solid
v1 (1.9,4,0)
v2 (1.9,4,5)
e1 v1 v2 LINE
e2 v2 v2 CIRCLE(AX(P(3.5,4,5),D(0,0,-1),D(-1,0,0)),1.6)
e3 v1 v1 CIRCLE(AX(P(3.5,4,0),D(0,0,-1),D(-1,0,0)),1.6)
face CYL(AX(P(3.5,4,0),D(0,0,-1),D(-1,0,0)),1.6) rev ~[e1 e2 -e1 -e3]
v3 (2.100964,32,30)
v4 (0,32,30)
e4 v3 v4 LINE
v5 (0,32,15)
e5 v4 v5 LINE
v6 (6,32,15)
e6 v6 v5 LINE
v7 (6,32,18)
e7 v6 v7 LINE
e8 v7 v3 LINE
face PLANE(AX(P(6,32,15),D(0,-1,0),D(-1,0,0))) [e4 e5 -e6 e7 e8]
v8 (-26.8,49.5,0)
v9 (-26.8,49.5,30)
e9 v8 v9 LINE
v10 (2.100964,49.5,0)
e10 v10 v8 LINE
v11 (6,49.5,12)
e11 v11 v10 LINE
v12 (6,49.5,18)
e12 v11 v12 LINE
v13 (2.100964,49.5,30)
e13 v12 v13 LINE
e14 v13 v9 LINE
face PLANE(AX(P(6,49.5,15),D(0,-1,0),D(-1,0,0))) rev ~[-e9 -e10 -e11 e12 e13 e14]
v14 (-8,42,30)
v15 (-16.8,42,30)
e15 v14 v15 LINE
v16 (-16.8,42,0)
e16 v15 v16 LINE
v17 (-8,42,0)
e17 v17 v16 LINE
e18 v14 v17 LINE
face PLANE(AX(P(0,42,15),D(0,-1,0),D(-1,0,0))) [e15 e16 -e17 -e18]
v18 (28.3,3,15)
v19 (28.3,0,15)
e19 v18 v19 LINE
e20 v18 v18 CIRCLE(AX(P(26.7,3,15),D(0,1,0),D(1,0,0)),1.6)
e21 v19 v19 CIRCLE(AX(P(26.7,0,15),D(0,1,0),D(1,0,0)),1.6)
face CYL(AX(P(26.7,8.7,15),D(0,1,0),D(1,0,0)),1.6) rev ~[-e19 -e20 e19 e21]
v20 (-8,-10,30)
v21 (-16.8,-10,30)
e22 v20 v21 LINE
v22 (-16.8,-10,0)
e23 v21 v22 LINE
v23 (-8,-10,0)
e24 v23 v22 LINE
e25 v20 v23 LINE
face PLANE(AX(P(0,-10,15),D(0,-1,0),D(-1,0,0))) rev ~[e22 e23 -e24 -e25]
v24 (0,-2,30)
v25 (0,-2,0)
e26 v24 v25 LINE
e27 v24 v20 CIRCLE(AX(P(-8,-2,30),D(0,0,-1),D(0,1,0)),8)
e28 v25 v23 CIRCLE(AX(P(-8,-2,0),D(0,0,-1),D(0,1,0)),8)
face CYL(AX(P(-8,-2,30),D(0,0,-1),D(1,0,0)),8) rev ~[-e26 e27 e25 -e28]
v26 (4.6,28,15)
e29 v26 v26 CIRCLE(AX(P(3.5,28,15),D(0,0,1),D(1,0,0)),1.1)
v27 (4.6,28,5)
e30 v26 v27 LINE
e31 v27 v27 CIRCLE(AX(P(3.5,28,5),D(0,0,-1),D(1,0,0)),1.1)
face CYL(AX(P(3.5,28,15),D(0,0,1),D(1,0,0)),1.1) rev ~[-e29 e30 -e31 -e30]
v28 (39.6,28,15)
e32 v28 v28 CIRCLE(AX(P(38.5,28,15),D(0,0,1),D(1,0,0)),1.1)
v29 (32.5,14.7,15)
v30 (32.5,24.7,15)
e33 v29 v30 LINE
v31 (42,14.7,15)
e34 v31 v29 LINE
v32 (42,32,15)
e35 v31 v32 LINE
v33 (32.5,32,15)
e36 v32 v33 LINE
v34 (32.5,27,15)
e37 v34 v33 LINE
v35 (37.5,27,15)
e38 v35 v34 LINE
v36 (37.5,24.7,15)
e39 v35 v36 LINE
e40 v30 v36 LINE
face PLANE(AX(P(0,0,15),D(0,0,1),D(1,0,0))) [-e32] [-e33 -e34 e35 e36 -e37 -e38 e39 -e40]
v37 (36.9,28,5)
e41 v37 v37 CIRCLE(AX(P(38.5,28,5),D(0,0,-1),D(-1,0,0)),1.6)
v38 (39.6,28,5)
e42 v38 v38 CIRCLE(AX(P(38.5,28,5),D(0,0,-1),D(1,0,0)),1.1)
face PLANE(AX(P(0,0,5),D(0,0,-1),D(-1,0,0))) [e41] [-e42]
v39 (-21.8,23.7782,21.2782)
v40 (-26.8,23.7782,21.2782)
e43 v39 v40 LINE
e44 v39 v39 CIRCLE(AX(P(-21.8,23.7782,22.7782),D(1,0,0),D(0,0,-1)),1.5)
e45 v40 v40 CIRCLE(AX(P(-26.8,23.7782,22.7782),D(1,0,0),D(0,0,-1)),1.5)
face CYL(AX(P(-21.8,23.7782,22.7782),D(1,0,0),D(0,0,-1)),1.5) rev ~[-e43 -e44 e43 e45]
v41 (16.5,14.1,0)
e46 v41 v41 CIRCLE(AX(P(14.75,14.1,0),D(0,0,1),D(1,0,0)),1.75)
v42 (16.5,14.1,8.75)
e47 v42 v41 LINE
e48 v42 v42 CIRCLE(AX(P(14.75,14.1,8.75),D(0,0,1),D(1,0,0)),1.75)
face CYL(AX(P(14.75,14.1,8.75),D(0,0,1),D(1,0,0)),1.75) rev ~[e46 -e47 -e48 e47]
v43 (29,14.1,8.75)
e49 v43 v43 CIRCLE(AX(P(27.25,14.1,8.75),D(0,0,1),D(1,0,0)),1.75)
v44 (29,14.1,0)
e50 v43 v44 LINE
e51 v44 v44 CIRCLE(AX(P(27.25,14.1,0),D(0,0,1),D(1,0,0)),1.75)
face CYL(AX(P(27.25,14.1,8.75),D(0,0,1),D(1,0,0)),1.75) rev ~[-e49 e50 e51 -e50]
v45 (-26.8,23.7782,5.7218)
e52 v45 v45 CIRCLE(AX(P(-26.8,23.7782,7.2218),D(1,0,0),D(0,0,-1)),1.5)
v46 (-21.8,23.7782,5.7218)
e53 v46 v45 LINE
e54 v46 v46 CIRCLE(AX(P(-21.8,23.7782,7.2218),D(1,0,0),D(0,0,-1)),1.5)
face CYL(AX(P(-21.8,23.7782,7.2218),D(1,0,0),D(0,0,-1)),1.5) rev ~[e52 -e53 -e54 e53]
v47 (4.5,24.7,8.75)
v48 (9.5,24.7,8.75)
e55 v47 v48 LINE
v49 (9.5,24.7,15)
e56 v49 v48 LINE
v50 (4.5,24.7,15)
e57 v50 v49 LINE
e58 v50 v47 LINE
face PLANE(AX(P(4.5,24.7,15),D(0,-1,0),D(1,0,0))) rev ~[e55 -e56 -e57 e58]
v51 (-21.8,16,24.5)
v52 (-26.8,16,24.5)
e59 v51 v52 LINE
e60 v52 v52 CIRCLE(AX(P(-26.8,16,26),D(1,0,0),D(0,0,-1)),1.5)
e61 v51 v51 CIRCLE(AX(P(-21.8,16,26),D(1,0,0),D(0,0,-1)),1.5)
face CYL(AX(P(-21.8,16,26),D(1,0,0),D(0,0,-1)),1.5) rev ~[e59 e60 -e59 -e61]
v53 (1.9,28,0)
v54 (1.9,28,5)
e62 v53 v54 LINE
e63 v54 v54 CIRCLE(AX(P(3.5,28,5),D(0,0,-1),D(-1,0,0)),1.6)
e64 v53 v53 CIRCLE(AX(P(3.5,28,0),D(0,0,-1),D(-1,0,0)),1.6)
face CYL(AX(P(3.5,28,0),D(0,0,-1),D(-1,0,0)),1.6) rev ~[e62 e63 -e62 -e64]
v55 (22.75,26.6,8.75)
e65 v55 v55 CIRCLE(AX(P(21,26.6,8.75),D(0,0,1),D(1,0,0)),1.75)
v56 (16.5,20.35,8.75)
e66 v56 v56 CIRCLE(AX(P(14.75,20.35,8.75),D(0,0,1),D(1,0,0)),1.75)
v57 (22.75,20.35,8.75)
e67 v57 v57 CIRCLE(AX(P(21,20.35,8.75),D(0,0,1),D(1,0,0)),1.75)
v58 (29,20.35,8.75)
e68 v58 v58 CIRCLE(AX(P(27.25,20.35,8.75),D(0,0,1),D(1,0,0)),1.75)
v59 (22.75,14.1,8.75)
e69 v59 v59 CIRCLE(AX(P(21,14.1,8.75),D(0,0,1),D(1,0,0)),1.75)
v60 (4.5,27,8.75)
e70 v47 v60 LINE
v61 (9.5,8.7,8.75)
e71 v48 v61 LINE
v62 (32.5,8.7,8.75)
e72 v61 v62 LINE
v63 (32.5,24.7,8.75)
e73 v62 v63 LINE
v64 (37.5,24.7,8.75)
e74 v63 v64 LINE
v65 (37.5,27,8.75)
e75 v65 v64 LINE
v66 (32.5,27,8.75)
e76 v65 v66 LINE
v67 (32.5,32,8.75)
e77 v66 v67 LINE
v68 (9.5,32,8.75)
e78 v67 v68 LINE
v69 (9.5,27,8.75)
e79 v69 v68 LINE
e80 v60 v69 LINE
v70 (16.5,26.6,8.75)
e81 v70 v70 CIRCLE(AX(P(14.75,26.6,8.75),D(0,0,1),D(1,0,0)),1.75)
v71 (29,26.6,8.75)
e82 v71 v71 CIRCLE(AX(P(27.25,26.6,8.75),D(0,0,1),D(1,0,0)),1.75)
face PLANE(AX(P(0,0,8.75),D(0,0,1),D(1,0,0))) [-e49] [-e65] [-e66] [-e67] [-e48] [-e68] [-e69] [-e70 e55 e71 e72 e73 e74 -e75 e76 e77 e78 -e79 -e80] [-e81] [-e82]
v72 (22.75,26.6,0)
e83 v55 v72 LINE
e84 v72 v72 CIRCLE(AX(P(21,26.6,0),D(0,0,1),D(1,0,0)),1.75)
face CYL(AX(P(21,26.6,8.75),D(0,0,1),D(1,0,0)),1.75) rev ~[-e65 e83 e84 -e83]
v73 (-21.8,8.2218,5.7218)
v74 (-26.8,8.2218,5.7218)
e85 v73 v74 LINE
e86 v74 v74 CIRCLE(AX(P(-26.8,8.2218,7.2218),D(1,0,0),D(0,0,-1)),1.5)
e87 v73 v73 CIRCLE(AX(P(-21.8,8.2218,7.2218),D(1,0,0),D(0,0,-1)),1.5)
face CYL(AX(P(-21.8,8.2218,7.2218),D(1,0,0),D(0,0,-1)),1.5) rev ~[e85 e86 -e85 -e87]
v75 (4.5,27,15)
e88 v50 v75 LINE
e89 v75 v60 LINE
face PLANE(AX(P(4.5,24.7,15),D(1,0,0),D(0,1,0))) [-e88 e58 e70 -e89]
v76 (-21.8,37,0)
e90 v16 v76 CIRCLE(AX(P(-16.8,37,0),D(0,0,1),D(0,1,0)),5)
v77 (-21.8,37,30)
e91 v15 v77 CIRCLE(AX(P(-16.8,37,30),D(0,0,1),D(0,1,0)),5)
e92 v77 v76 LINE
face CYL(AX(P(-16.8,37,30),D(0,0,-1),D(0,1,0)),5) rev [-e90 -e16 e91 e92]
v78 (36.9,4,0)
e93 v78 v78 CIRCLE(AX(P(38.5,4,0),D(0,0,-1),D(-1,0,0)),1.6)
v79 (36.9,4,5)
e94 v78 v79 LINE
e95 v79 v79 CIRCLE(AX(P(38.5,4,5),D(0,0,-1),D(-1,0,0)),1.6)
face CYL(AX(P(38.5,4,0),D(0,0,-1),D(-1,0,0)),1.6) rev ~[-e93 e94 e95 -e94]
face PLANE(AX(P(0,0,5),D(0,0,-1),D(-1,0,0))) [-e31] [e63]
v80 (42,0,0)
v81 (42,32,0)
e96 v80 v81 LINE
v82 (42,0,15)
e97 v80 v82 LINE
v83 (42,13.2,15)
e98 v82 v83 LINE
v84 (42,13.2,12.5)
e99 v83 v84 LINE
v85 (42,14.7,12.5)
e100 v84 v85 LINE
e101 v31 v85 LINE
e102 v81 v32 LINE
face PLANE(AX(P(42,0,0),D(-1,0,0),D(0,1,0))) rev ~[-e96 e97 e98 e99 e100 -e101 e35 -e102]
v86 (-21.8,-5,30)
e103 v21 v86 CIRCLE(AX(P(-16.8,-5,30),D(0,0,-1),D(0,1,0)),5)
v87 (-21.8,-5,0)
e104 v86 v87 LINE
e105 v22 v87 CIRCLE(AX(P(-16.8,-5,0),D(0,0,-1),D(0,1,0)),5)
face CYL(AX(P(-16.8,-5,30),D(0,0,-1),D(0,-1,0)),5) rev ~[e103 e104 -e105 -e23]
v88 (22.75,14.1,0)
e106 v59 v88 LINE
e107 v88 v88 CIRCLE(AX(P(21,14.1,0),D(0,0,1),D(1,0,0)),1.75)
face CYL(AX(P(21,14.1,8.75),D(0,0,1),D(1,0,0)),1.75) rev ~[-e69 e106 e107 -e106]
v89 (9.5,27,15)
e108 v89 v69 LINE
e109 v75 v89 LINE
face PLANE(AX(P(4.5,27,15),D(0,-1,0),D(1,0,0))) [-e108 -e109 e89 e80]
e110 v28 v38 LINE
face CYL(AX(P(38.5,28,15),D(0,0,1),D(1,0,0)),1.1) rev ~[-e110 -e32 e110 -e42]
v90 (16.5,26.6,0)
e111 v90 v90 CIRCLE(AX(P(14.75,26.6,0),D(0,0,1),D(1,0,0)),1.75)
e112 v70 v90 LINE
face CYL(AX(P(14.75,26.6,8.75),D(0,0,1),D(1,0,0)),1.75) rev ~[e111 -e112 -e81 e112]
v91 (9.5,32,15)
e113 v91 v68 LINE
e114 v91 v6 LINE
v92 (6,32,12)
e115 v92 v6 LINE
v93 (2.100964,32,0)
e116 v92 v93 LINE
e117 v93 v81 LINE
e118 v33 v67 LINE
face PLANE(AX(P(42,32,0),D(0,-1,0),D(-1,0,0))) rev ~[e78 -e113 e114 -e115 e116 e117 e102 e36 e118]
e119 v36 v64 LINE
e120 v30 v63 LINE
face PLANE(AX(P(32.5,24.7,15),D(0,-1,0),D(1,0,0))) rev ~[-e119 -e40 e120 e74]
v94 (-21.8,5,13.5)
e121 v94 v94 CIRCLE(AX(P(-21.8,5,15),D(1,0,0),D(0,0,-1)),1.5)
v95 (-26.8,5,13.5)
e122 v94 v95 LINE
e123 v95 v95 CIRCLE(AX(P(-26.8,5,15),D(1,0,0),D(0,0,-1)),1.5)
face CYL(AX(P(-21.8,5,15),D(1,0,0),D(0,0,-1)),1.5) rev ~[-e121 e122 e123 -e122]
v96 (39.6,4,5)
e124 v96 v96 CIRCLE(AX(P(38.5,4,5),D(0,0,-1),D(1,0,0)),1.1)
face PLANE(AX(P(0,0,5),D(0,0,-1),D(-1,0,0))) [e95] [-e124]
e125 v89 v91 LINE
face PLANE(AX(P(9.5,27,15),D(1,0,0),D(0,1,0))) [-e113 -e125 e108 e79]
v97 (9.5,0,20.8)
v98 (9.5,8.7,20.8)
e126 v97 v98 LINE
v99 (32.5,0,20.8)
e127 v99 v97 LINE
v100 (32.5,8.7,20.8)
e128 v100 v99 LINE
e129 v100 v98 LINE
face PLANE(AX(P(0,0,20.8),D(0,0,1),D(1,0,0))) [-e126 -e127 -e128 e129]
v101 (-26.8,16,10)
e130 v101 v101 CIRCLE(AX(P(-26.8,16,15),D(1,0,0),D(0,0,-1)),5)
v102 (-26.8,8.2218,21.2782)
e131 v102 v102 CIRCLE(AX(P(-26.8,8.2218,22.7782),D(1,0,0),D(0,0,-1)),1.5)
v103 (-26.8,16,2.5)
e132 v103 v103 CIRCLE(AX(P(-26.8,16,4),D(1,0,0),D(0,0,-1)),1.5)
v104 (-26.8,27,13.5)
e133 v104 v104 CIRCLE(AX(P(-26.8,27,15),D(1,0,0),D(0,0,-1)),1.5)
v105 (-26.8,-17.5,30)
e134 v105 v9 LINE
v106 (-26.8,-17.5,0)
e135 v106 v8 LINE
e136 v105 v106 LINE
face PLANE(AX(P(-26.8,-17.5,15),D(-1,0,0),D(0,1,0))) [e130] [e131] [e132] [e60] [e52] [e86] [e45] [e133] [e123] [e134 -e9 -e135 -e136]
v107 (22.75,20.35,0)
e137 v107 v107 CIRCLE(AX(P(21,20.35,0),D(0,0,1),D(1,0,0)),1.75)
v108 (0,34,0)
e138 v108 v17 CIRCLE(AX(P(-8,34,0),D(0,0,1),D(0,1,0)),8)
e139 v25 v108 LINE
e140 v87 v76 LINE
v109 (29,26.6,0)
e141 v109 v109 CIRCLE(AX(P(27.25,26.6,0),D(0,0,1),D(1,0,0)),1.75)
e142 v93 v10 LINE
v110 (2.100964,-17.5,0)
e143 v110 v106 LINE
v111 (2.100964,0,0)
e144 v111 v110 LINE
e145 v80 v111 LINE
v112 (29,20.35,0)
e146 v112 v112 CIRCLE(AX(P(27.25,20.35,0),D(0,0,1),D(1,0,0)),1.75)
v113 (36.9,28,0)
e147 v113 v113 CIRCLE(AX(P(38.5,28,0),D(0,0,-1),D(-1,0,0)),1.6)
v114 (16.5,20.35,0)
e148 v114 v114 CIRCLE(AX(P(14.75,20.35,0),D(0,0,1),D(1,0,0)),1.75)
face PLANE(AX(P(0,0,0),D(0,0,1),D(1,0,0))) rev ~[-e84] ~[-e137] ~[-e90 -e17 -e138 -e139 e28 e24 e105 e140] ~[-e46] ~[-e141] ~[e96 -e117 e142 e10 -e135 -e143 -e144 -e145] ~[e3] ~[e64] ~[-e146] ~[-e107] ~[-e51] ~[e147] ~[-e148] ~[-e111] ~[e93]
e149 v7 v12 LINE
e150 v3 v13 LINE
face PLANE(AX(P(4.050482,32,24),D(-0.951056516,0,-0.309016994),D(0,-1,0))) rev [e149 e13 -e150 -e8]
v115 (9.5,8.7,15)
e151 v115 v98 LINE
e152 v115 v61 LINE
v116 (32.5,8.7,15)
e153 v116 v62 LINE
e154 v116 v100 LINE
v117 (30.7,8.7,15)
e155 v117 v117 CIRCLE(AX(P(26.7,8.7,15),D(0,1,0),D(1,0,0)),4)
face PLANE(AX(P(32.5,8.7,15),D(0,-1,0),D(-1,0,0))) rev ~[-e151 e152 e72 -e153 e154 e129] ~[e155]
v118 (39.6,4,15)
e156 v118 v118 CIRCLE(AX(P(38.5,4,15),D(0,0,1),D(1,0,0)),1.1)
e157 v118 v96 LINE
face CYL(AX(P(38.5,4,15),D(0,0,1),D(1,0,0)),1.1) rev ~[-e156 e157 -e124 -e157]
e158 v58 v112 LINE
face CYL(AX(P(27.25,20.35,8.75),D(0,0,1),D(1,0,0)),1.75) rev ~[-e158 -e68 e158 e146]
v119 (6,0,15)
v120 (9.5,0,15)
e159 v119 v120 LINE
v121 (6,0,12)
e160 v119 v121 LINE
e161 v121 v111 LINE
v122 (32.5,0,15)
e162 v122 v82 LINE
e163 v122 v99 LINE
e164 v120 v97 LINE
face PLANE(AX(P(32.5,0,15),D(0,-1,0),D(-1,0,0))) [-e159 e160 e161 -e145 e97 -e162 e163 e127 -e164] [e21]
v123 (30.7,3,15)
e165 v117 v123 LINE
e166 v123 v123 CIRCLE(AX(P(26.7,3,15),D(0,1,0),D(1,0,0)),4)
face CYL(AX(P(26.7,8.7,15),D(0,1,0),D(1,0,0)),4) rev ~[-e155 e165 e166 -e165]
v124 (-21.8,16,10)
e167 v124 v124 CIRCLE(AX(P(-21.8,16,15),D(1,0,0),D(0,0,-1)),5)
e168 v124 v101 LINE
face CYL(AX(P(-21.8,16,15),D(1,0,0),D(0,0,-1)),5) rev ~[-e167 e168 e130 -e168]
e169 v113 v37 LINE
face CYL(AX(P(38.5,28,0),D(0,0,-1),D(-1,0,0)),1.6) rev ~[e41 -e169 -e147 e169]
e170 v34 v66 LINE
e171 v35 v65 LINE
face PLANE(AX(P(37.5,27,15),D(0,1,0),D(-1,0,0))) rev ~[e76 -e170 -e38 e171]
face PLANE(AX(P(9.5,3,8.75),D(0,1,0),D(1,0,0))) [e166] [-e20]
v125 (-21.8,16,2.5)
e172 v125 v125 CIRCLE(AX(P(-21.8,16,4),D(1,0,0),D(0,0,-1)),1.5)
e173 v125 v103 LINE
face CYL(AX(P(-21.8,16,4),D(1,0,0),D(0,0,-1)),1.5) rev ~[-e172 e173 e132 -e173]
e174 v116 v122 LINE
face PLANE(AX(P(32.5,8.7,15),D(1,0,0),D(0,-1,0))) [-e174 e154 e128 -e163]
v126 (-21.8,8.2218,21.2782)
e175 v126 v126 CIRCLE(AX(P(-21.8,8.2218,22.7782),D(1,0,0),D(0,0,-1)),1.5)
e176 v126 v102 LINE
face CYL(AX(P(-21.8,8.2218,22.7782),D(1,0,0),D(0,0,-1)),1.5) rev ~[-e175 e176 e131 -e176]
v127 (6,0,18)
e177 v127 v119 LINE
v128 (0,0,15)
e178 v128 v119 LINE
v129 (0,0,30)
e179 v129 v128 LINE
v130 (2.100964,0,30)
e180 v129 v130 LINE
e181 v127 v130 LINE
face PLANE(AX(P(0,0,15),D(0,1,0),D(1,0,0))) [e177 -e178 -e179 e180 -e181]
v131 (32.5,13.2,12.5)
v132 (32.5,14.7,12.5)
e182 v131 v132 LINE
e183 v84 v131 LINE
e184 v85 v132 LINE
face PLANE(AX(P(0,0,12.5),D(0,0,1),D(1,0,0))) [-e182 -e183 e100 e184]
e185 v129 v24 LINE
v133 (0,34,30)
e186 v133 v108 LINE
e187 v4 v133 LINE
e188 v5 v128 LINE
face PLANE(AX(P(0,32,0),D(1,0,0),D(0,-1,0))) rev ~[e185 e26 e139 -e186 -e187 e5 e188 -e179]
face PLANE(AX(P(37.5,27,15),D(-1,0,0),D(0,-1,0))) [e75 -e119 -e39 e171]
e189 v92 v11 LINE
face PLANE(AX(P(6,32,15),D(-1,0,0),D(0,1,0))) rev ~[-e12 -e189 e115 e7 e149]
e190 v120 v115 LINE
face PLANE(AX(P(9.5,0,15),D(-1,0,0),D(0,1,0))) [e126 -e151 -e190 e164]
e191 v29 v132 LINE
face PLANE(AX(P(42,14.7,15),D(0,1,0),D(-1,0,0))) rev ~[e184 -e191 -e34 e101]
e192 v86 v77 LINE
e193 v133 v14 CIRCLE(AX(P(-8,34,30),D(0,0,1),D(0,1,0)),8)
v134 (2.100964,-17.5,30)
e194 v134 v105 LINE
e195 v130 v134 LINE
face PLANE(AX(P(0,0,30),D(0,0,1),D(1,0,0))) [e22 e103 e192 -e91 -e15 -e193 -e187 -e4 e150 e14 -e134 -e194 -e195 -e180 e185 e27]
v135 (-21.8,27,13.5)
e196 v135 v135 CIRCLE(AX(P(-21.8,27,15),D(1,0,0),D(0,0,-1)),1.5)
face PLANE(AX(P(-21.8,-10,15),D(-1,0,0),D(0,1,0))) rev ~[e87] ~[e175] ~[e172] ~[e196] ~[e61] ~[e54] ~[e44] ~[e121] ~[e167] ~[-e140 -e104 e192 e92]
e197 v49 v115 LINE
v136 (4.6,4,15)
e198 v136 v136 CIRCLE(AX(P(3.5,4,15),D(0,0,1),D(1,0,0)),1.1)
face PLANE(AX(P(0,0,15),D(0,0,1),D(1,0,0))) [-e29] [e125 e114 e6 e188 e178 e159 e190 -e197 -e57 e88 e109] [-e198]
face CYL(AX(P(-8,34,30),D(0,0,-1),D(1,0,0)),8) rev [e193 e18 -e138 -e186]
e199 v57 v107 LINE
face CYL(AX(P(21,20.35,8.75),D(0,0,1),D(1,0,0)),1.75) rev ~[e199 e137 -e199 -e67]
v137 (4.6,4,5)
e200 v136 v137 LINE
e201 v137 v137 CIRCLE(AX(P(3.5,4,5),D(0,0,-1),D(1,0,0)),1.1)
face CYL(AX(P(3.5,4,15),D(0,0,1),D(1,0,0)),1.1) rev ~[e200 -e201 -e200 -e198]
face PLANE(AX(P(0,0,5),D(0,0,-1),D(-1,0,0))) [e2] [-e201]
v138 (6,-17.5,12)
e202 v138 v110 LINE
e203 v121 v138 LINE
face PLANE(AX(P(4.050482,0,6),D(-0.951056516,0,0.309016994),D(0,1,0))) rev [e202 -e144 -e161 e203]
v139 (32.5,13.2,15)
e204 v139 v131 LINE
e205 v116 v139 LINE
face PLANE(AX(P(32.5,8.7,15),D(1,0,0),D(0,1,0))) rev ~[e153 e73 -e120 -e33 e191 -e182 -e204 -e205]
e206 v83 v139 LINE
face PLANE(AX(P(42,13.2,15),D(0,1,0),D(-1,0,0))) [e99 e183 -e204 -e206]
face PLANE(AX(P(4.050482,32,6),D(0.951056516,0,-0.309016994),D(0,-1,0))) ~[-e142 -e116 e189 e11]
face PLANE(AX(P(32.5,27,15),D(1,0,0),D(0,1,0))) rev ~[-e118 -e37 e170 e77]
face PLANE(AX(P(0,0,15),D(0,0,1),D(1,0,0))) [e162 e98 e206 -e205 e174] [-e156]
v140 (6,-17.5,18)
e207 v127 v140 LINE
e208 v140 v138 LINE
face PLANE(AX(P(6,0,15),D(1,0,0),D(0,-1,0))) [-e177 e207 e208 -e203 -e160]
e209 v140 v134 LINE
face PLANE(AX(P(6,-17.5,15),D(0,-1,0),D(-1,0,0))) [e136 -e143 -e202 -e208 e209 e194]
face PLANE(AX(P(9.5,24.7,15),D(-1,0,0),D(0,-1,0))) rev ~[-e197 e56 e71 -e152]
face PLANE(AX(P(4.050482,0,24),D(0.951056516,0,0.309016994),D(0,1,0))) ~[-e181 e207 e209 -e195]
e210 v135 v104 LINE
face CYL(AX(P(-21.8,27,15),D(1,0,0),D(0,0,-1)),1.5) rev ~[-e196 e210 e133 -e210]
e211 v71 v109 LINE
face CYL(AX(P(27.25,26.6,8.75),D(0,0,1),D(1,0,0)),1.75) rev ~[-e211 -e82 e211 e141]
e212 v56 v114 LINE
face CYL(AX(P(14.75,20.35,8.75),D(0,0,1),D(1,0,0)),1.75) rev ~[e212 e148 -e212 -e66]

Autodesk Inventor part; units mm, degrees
ref_plane "YZ Plane" through (0, 0, 0) normal (1, 0, 0) x (0, 1, 0)
ref_plane "XZ Plane" through (0, 0, 0) normal (0, 1, 0) x (-1, 0, 0)
sketch "Sketch2" plane through (0, 0, 0) normal (0, 0, 1) x (1, 0, 0)
  line L0 (0, 0) -> (42, 0)
  line L1 (42, 0) -> (42, 32)
  line L2 (42, 32) -> (0, 32)
  line L3 (0, 32) -> (0, 0)
  dimension "d0" = 42
  dimension "d1" = 32
extrude "Servo_Housing" add sketch "Sketch2" along normal blind 15
sketch "Sketch4" plane through (0, 0, 15) normal (0, 0, 1) x (1, 0, 0)
  line L0 (42, 32) -> (0, 32) projected
  line L1 (0, 32) -> (0, 0) projected
  line L2 (4.5, 24.7) -> (9.5, 24.7)
  line L3 (9.5, 24.7) -> (9.5, 8.7)
  line L4 (9.5, 8.7) -> (32.5, 8.7)
  line L5 (32.5, 8.7) -> (32.5, 24.7)
  line L6 (32.5, 24.7) -> (37.5, 24.7)
  line L7 (42, 0) -> (42, 32) projected
  line L8 (0, 0) -> (42, 0) projected
  line L9 (4.5, 24.7) -> (4.5, 27)
  line L10 (4.5, 27) -> (9.5, 27)
  line L11 (9.5, 27) -> (9.5, 32)
  line L12 (37.5, 27) -> (37.5, 24.7)
  line L13 (37.5, 27) -> (32.5, 27)
  line L14 (32.5, 27) -> (32.5, 32)
  line L15 (9.5, 32) -> (32.5, 32)
  line L16 (21, 36.5125) -> (21, -47.625) construction
  point P0 (4.9935, 32)
  point P1 (37, 32)
  dimension "d6" = 5
  dimension "d7" = 16
  dimension "d8" = 23
  dimension "d11" = 8.7
  dimension "d14" = 2.3
  dimension "d15" = 2.3
  dimension "d22" = 42
  dimension "d23" = 21
  dimension "d24" = 23
  dimension "d25" = 11.5
  dimension "d26" = 5
  dimension "d27" = 5
  dimension "d28" = 5
extrude "Servo_Opening" cut sketch "Sketch4" against normal blind 6.25 contours L14 L13 L12 L6 L5 L4 L3 L2 L9 L10 L11 L0
sketch "Sketch5" plane through (0, 0, 15) normal (0, 0, 1) x (1, 0, 0)
  line L0 (42, 0) -> (42, 32) projected
  line L1 (42, 14.7) -> (42, 13.2)
  line L2 (-29.647, 13.95) -> (54.8226, 13.95) construction
  line L3 (0, 0) -> (42, 0) projected
  line L4 (32.5, 8.7) -> (9.5, 8.7) projected
  line L5 (42, 13.2) -> (32.5, 13.2)
  line L6 (32.5, 13.2) -> (32.5, 14.7)
  line L7 (32.5, 24.7) -> (32.5, 8.7) projected
  line L8 (42, 14.7) -> (32.5, 14.7)
  dimension "d171" = 1.5
  dimension "d211" = 4.5
extrude "Cable_Opening" cut sketch "Sketch5" against normal blind 2.5
sketch "Sketch6" plane through (0, 0, 15) normal (0, 0, 1) x (1, 0, 0)
  circle A0 centre (3.5, 28) radius 1.1
  circle A1 centre (38.5, 28) radius 1.1
  circle A2 centre (38.5, 4) radius 1.1
  circle A3 centre (3.5, 4) radius 1.1
  line L0 (21, 34.35) -> (21, -13.275) construction
  line L1 (-20.6375, 16) -> (66.675, 16) construction
  line L2 (42, 14.7) -> (42, 32) projected
  line L3 (0, 32) -> (0, 0) projected
  line L4 (9.5, 32) -> (0, 32) projected
  line L5 (0, 0) -> (42, 0) projected
  point P0 (42, 12.35)
  point P1 (0, 12.35)
  dimension "d29" = 2.2
  dimension "d30" = 2.2
  dimension "d31" = 2.2
  dimension "d32" = 2.2
  dimension "d33" = 42
  dimension "d34" = 21
  dimension "d35" = 32
  dimension "d36" = 16
  dimension "d37" = 35
  dimension "d38" = 17.5
  dimension "d39" = 24
  dimension "d40" = 12
extrude "Cover_Mounting_Holes" cut sketch "Sketch6" against normal up to surface (15 mm away)
sketch "Sketch10" plane through (0, 0, 15) normal (0, 0, 1) x (1, 0, 0)
  line L0 (32.5, 8.7) -> (9.5, 8.7) projected
  line L1 (9.5, 8.7) -> (32.5, 8.7)
  line L2 (32.5, 8.7) -> (32.5, 0)
  line L3 (32.5, 0) -> (9.5, 0)
  line L4 (9.5, 0) -> (9.5, 8.7)
  line L5 (9.5, 8.7) -> (9.5, 24.7) projected
  line L6 (32.5, 24.7) -> (32.5, 14.7) projected
  point P0 (0, 0)
  point P1 (9.5, 12.35)
  point P2 (32.5, 12.35)
extrude "Pin" add sketch "Sketch10" along normal blind 5.8
sketch "Sketch11" plane through (9.5, 8.7, 8.75) normal (0, 1, 0) x (1, 0, 0)
  circle A0 centre (17.2, -6.25) radius 1.6
  line L0 (-9.5, -6.05) -> (-9.5, -3.55) projected
  line L1 (32.5, 8.75) -> (32.5, -6.25) projected
  point P0 (-9.5, 8.75)
  point P1 (0, -6.25)
  dimension "d65" = 3.2
  dimension "d69" = 15.3
extrude "Shaft_Opening" cut sketch "Sketch11" against normal up to surface (8.7 mm away)
sketch "Sketch12" plane through (9.5, 8.7, 8.75) normal (0, 1, 0) x (1, 0, 0)
  circle A0 centre (17.2, -6.25) radius 4
  circle A1 centre (17.2, -6.25) radius 1.6 projected
  point P0 (-9.5, 8.75)
  dimension "d73" = 8
extrude "Nut_Slot" cut sketch "Sketch12" against normal blind 5.7
sketch "Sketch15" plane through (0, 0, 15) normal (0, 0, 1) x (1, 0, 0)
  line L0 (9.5, 32) -> (0, 32) projected
  line L1 (0, 0) -> (9.5, 0) projected
  line L2 (39, 24.5) -> (42, 24.5) projected
  line L3 (42, 32) -> (32.5, 32) projected
  line L4 (42, 5.5) -> (39, 5.5) projected
  line L5 (32.5, 0) -> (42, 0) projected
  line L6 (42, 32) -> (0, 32) projected
  line L7 (0, 32) -> (0, 42)
  line L8 (0, 42) -> (-21.8, 42)
  line L9 (0, 32) -> (6, 32)
  line L10 (6, 32) -> (6, 49.5)
  line L11 (6, 49.5) -> (-26.8, 49.5)
  line L12 (0, 0) -> (0, -10)
  line L13 (0, -10) -> (-21.8, -10)
  line L14 (-21.8, -10) -> (-21.8, 42)
  line L15 (0, 0) -> (6, 0)
  line L16 (6, 0) -> (6, -17.5)
  line L17 (6, -17.5) -> (-26.8, -17.5)
  line L18 (-26.8, -17.5) -> (-26.8, 49.5)
  line L19 (0, 32) -> (0, 0) projected
  point P0 (0, 5.5)
  dimension "d111" = 10
  dimension "d113" = 6
  dimension "d114" = 17.5
  dimension "d116" = 10
  dimension "d117" = 21.8
  dimension "d118" = 6
  dimension "d119" = 17.5
  dimension "d120" = 32.8
  dimension "d161" = 7.5
  dimension "d175" = 32.8
  dimension "d191" = 5
extrude "Connection_Adapter" add sketch "Sketch15" along normal mid plane 30 contours L0 L7 L8 L14 L13 L12 L1 L16 L17 L18 L11 L10
sketch "Sketch17" plane through (-21.8, -10, 30) normal (1, 0, 0) x (0, 0, -1)
  circle A0 centre (15, 26) radius 11 construction
  line L0 (30, 52) -> (0, 52) projected
  line L1 (30, 0) -> (0, 0) projected
  line L2 (0, 0) -> (0, 52) projected
  line L3 (30, 52) -> (30, 0) projected
  line L4 (15, 12.642) -> (15, 38.042) construction
  line L5 (1.1452, 26) -> (27.1241, 26) construction
  line L6 (4.9901, 15.9901) -> (35.9566, 46.9566) construction
  line L7 (5.2574, 35.7426) -> (22.7782, 18.2218) construction
  circle A1 centre (7.2218, 18.2218) radius 1.5
  circle A2 centre (4, 26) radius 1.5
  circle A3 centre (7.2218, 33.7782) radius 1.5
  circle A4 centre (15, 37) radius 1.5
  circle A5 centre (15, 15) radius 1.5
  circle A6 centre (22.7782, 18.2218) radius 1.5
  circle A7 centre (26, 26) radius 1.5
  circle A8 centre (22.7782, 33.7782) radius 1.5
  point P0 (30, 10)
  dimension "d121" = 22
  dimension "d122" = 52
  dimension "d123" = 26
  dimension "d124" = 30
  dimension "d125" = 15
  dimension "d126" = 3
  dimension "d127" = 3
  dimension "d128" = 3
  dimension "d129" = 3
  dimension "d130" = 3
  dimension "d131" = 3
  dimension "d132" = 3
  dimension "d133" = 3
  dimension "d134" = 45
  dimension "d135" = 45
extrude "Docking_Holes_Front" cut sketch "Sketch17" against normal up to surface (5 mm away) contours A1 | A2 | A3 | A4 | A5 | A6 | A7 | A8
sketch "Sketch19" plane through (-21.8, -10, 30) normal (1, 0, 0) x (0, 0, -1)
  circle A0 centre (15, 26) radius 5
  line L0 (30, 0) -> (0, 0) projected
  line L1 (30, 52) -> (0, 52) projected
  line L2 (30, 52) -> (30, 0) projected
  line L3 (0, 0) -> (0, 52) projected
  point P0 (30, 10)
  dimension "d140" = 10
  dimension "d141" = 52
  dimension "d142" = 26
  dimension "d143" = 30
  dimension "d144" = 15
extrude "Cable_Opening_Front" cut sketch "Sketch19" against normal up to surface (5 mm away) contours A0
sketch "Sketch22" plane through (0, 0, 0) normal (0, 0, -1) x (-1, 0, 0)
  circle A0 centre (-38.5, 28) radius 1.1 projected
  line L0 (-39.6, 28) -> (-2.4, 28) construction
  circle A1 centre (-3.5, 28) radius 1.1 projected
  line L1 (-3.5, 36.8375) -> (-3.5, -9.2) construction
  circle A2 centre (-38.5, 4) radius 1.1 projected
  line L2 (-39.6, 4) -> (-2.2922, 4) construction
  line L3 (-42, 0) -> (-42, 32) projected
  line L4 (0, -10) -> (0, 42) projected
  line L5 (-6, 0) -> (-42, 0) projected
  line L6 (-42, 32) -> (-6, 32) projected
  circle A3 centre (-3.5, 28) radius 1.6
  circle A4 centre (-3.5, 28) radius 1.1 projected
  circle A5 centre (-3.5, 4) radius 1.6
  circle A6 centre (-38.5, 28) radius 1.6
  circle A7 centre (-38.5, 4) radius 1.6
  circle A8 centre (-38.5, 4) radius 1.1 projected
  circle A9 centre (-3.5, 4) radius 1.1 projected
  circle A10 centre (-38.5, 28) radius 1.1 projected
  point P0 (0, 0)
  point P1 (0, -1)
  point P2 (0, 33)
  dimension "d166" = 3.2
  dimension "d167" = 3.2
  dimension "d168" = 3.2
  dimension "d169" = 3.2
  dimension "d176" = 2.4
  dimension "d177" = 1.9
extrude "Insert_Opening" cut sketch "Sketch22" against normal blind 5
fillet "Fillet4" radius 8 2 edges at (0, 42, 15) (0, -10, 15)
chamfer "Chamfer1" distance 12 angle 18 1 edges at (6, -8.75, 30) measured on face at (6, -11.6667, 15)
chamfer "Chamfer2" distance 12 angle 18 1 edges at (6, -8.75, 0) measured on face at (6, -11.6667, 11)
chamfer "Chamfer3" distance 12 angle 18 1 edges at (6, 40.75, 30) measured on face at (6, 43.6667, 15)
chamfer "Chamfer4" distance 12 angle 18 1 edges at (6, 40.75, 0) measured on face at (6, 43.6667, 11)
fillet "Fillet5" radius 5 2 edges at (-21.8, -10, 15) (-21.8, 42, 15)
sketch "Sketch24" plane through (0, 0, 8.75) normal (0, 0, 1) x (1, 0, 0)
  circle A0 centre (14.75, 26.6) radius 1.75
  line L0 (9.5, 32) -> (32.5, 32) projected
  line L1 (9.5, 27) -> (9.5, 32) projected
  line L2 (32.5, 32) -> (32.5, 27) projected
  point P0 (0, 0)
  dimension "d192" = 3.5
  dimension "d193" = 5.4
  dimension "d194" = 5.25
  dimension "d200" = 23
extrude "Heat_dissipation_Hole" cut sketch "Sketch24" against normal up to surface (8.75 mm away)
pattern_linear "Rectangular Pattern1" count 3 spacing 6.25 along (1, 0, 0) count 3 spacing 6.25 along (0, -1, 0) of "Heat_dissipation_Hole"
sketch "Sketch25" plane through (-26.8, -17.5, 0) normal (0, -1, 0) x (1, 0, 0)
  line L0 (10, 22.5) -> (18.8, 22.5)
  line L1 (18.8, 22.5) -> (18.8, 7.5)
  line L2 (18.8, 7.5) -> (10, 7.5)
  line L3 (10, 7.5) -> (10, 22.5)
  line L4 (0, 30) -> (28.901, 30) projected
  line L5 (0, 0) -> (0, 30) projected
  point P0 (26.8, 0)
  dimension "d204" = 8.8
  dimension "d205" = 15
  dimension "d206" = 7.5
  dimension "d207" = 10
extrude "Extrusion22" [suppressed]
fillet "Fillet6" [suppressed]
ref_plane "Work Plane1" through (21, 8.7, 8.75) normal (1, 0, 0) x (0, 0, -1)
equation "\"d15\" = d14"
equation "\"d23\" = 0.5 * d22"
equation "\"d25\" = 0.5 * d24"
equation "\"d27\" = d26"
equation "\"d28\" = d6"
equation "\"d34\" = 0.5 * d33"
equation "\"d36\" = 0.5 * d35"
equation "\"d38\" = 0.5 * d37"
equation "\"d40\" = 0.5 * d39"
equation "\"d65\" = d70"
equation "\"d123\" = 0.5 * d122"
equation "\"d125\" = 0.5 * d124"
equation "\"d142\" = 0.5 * d141"
equation "\"d144\" = 0.5 * d143"
equation "\"d166\" = d168"
equation "\"d167\" = d168"
equation "\"d169\" = d168"
equation "\"d70\" = 3.2"
properties part number "Module_Body"
